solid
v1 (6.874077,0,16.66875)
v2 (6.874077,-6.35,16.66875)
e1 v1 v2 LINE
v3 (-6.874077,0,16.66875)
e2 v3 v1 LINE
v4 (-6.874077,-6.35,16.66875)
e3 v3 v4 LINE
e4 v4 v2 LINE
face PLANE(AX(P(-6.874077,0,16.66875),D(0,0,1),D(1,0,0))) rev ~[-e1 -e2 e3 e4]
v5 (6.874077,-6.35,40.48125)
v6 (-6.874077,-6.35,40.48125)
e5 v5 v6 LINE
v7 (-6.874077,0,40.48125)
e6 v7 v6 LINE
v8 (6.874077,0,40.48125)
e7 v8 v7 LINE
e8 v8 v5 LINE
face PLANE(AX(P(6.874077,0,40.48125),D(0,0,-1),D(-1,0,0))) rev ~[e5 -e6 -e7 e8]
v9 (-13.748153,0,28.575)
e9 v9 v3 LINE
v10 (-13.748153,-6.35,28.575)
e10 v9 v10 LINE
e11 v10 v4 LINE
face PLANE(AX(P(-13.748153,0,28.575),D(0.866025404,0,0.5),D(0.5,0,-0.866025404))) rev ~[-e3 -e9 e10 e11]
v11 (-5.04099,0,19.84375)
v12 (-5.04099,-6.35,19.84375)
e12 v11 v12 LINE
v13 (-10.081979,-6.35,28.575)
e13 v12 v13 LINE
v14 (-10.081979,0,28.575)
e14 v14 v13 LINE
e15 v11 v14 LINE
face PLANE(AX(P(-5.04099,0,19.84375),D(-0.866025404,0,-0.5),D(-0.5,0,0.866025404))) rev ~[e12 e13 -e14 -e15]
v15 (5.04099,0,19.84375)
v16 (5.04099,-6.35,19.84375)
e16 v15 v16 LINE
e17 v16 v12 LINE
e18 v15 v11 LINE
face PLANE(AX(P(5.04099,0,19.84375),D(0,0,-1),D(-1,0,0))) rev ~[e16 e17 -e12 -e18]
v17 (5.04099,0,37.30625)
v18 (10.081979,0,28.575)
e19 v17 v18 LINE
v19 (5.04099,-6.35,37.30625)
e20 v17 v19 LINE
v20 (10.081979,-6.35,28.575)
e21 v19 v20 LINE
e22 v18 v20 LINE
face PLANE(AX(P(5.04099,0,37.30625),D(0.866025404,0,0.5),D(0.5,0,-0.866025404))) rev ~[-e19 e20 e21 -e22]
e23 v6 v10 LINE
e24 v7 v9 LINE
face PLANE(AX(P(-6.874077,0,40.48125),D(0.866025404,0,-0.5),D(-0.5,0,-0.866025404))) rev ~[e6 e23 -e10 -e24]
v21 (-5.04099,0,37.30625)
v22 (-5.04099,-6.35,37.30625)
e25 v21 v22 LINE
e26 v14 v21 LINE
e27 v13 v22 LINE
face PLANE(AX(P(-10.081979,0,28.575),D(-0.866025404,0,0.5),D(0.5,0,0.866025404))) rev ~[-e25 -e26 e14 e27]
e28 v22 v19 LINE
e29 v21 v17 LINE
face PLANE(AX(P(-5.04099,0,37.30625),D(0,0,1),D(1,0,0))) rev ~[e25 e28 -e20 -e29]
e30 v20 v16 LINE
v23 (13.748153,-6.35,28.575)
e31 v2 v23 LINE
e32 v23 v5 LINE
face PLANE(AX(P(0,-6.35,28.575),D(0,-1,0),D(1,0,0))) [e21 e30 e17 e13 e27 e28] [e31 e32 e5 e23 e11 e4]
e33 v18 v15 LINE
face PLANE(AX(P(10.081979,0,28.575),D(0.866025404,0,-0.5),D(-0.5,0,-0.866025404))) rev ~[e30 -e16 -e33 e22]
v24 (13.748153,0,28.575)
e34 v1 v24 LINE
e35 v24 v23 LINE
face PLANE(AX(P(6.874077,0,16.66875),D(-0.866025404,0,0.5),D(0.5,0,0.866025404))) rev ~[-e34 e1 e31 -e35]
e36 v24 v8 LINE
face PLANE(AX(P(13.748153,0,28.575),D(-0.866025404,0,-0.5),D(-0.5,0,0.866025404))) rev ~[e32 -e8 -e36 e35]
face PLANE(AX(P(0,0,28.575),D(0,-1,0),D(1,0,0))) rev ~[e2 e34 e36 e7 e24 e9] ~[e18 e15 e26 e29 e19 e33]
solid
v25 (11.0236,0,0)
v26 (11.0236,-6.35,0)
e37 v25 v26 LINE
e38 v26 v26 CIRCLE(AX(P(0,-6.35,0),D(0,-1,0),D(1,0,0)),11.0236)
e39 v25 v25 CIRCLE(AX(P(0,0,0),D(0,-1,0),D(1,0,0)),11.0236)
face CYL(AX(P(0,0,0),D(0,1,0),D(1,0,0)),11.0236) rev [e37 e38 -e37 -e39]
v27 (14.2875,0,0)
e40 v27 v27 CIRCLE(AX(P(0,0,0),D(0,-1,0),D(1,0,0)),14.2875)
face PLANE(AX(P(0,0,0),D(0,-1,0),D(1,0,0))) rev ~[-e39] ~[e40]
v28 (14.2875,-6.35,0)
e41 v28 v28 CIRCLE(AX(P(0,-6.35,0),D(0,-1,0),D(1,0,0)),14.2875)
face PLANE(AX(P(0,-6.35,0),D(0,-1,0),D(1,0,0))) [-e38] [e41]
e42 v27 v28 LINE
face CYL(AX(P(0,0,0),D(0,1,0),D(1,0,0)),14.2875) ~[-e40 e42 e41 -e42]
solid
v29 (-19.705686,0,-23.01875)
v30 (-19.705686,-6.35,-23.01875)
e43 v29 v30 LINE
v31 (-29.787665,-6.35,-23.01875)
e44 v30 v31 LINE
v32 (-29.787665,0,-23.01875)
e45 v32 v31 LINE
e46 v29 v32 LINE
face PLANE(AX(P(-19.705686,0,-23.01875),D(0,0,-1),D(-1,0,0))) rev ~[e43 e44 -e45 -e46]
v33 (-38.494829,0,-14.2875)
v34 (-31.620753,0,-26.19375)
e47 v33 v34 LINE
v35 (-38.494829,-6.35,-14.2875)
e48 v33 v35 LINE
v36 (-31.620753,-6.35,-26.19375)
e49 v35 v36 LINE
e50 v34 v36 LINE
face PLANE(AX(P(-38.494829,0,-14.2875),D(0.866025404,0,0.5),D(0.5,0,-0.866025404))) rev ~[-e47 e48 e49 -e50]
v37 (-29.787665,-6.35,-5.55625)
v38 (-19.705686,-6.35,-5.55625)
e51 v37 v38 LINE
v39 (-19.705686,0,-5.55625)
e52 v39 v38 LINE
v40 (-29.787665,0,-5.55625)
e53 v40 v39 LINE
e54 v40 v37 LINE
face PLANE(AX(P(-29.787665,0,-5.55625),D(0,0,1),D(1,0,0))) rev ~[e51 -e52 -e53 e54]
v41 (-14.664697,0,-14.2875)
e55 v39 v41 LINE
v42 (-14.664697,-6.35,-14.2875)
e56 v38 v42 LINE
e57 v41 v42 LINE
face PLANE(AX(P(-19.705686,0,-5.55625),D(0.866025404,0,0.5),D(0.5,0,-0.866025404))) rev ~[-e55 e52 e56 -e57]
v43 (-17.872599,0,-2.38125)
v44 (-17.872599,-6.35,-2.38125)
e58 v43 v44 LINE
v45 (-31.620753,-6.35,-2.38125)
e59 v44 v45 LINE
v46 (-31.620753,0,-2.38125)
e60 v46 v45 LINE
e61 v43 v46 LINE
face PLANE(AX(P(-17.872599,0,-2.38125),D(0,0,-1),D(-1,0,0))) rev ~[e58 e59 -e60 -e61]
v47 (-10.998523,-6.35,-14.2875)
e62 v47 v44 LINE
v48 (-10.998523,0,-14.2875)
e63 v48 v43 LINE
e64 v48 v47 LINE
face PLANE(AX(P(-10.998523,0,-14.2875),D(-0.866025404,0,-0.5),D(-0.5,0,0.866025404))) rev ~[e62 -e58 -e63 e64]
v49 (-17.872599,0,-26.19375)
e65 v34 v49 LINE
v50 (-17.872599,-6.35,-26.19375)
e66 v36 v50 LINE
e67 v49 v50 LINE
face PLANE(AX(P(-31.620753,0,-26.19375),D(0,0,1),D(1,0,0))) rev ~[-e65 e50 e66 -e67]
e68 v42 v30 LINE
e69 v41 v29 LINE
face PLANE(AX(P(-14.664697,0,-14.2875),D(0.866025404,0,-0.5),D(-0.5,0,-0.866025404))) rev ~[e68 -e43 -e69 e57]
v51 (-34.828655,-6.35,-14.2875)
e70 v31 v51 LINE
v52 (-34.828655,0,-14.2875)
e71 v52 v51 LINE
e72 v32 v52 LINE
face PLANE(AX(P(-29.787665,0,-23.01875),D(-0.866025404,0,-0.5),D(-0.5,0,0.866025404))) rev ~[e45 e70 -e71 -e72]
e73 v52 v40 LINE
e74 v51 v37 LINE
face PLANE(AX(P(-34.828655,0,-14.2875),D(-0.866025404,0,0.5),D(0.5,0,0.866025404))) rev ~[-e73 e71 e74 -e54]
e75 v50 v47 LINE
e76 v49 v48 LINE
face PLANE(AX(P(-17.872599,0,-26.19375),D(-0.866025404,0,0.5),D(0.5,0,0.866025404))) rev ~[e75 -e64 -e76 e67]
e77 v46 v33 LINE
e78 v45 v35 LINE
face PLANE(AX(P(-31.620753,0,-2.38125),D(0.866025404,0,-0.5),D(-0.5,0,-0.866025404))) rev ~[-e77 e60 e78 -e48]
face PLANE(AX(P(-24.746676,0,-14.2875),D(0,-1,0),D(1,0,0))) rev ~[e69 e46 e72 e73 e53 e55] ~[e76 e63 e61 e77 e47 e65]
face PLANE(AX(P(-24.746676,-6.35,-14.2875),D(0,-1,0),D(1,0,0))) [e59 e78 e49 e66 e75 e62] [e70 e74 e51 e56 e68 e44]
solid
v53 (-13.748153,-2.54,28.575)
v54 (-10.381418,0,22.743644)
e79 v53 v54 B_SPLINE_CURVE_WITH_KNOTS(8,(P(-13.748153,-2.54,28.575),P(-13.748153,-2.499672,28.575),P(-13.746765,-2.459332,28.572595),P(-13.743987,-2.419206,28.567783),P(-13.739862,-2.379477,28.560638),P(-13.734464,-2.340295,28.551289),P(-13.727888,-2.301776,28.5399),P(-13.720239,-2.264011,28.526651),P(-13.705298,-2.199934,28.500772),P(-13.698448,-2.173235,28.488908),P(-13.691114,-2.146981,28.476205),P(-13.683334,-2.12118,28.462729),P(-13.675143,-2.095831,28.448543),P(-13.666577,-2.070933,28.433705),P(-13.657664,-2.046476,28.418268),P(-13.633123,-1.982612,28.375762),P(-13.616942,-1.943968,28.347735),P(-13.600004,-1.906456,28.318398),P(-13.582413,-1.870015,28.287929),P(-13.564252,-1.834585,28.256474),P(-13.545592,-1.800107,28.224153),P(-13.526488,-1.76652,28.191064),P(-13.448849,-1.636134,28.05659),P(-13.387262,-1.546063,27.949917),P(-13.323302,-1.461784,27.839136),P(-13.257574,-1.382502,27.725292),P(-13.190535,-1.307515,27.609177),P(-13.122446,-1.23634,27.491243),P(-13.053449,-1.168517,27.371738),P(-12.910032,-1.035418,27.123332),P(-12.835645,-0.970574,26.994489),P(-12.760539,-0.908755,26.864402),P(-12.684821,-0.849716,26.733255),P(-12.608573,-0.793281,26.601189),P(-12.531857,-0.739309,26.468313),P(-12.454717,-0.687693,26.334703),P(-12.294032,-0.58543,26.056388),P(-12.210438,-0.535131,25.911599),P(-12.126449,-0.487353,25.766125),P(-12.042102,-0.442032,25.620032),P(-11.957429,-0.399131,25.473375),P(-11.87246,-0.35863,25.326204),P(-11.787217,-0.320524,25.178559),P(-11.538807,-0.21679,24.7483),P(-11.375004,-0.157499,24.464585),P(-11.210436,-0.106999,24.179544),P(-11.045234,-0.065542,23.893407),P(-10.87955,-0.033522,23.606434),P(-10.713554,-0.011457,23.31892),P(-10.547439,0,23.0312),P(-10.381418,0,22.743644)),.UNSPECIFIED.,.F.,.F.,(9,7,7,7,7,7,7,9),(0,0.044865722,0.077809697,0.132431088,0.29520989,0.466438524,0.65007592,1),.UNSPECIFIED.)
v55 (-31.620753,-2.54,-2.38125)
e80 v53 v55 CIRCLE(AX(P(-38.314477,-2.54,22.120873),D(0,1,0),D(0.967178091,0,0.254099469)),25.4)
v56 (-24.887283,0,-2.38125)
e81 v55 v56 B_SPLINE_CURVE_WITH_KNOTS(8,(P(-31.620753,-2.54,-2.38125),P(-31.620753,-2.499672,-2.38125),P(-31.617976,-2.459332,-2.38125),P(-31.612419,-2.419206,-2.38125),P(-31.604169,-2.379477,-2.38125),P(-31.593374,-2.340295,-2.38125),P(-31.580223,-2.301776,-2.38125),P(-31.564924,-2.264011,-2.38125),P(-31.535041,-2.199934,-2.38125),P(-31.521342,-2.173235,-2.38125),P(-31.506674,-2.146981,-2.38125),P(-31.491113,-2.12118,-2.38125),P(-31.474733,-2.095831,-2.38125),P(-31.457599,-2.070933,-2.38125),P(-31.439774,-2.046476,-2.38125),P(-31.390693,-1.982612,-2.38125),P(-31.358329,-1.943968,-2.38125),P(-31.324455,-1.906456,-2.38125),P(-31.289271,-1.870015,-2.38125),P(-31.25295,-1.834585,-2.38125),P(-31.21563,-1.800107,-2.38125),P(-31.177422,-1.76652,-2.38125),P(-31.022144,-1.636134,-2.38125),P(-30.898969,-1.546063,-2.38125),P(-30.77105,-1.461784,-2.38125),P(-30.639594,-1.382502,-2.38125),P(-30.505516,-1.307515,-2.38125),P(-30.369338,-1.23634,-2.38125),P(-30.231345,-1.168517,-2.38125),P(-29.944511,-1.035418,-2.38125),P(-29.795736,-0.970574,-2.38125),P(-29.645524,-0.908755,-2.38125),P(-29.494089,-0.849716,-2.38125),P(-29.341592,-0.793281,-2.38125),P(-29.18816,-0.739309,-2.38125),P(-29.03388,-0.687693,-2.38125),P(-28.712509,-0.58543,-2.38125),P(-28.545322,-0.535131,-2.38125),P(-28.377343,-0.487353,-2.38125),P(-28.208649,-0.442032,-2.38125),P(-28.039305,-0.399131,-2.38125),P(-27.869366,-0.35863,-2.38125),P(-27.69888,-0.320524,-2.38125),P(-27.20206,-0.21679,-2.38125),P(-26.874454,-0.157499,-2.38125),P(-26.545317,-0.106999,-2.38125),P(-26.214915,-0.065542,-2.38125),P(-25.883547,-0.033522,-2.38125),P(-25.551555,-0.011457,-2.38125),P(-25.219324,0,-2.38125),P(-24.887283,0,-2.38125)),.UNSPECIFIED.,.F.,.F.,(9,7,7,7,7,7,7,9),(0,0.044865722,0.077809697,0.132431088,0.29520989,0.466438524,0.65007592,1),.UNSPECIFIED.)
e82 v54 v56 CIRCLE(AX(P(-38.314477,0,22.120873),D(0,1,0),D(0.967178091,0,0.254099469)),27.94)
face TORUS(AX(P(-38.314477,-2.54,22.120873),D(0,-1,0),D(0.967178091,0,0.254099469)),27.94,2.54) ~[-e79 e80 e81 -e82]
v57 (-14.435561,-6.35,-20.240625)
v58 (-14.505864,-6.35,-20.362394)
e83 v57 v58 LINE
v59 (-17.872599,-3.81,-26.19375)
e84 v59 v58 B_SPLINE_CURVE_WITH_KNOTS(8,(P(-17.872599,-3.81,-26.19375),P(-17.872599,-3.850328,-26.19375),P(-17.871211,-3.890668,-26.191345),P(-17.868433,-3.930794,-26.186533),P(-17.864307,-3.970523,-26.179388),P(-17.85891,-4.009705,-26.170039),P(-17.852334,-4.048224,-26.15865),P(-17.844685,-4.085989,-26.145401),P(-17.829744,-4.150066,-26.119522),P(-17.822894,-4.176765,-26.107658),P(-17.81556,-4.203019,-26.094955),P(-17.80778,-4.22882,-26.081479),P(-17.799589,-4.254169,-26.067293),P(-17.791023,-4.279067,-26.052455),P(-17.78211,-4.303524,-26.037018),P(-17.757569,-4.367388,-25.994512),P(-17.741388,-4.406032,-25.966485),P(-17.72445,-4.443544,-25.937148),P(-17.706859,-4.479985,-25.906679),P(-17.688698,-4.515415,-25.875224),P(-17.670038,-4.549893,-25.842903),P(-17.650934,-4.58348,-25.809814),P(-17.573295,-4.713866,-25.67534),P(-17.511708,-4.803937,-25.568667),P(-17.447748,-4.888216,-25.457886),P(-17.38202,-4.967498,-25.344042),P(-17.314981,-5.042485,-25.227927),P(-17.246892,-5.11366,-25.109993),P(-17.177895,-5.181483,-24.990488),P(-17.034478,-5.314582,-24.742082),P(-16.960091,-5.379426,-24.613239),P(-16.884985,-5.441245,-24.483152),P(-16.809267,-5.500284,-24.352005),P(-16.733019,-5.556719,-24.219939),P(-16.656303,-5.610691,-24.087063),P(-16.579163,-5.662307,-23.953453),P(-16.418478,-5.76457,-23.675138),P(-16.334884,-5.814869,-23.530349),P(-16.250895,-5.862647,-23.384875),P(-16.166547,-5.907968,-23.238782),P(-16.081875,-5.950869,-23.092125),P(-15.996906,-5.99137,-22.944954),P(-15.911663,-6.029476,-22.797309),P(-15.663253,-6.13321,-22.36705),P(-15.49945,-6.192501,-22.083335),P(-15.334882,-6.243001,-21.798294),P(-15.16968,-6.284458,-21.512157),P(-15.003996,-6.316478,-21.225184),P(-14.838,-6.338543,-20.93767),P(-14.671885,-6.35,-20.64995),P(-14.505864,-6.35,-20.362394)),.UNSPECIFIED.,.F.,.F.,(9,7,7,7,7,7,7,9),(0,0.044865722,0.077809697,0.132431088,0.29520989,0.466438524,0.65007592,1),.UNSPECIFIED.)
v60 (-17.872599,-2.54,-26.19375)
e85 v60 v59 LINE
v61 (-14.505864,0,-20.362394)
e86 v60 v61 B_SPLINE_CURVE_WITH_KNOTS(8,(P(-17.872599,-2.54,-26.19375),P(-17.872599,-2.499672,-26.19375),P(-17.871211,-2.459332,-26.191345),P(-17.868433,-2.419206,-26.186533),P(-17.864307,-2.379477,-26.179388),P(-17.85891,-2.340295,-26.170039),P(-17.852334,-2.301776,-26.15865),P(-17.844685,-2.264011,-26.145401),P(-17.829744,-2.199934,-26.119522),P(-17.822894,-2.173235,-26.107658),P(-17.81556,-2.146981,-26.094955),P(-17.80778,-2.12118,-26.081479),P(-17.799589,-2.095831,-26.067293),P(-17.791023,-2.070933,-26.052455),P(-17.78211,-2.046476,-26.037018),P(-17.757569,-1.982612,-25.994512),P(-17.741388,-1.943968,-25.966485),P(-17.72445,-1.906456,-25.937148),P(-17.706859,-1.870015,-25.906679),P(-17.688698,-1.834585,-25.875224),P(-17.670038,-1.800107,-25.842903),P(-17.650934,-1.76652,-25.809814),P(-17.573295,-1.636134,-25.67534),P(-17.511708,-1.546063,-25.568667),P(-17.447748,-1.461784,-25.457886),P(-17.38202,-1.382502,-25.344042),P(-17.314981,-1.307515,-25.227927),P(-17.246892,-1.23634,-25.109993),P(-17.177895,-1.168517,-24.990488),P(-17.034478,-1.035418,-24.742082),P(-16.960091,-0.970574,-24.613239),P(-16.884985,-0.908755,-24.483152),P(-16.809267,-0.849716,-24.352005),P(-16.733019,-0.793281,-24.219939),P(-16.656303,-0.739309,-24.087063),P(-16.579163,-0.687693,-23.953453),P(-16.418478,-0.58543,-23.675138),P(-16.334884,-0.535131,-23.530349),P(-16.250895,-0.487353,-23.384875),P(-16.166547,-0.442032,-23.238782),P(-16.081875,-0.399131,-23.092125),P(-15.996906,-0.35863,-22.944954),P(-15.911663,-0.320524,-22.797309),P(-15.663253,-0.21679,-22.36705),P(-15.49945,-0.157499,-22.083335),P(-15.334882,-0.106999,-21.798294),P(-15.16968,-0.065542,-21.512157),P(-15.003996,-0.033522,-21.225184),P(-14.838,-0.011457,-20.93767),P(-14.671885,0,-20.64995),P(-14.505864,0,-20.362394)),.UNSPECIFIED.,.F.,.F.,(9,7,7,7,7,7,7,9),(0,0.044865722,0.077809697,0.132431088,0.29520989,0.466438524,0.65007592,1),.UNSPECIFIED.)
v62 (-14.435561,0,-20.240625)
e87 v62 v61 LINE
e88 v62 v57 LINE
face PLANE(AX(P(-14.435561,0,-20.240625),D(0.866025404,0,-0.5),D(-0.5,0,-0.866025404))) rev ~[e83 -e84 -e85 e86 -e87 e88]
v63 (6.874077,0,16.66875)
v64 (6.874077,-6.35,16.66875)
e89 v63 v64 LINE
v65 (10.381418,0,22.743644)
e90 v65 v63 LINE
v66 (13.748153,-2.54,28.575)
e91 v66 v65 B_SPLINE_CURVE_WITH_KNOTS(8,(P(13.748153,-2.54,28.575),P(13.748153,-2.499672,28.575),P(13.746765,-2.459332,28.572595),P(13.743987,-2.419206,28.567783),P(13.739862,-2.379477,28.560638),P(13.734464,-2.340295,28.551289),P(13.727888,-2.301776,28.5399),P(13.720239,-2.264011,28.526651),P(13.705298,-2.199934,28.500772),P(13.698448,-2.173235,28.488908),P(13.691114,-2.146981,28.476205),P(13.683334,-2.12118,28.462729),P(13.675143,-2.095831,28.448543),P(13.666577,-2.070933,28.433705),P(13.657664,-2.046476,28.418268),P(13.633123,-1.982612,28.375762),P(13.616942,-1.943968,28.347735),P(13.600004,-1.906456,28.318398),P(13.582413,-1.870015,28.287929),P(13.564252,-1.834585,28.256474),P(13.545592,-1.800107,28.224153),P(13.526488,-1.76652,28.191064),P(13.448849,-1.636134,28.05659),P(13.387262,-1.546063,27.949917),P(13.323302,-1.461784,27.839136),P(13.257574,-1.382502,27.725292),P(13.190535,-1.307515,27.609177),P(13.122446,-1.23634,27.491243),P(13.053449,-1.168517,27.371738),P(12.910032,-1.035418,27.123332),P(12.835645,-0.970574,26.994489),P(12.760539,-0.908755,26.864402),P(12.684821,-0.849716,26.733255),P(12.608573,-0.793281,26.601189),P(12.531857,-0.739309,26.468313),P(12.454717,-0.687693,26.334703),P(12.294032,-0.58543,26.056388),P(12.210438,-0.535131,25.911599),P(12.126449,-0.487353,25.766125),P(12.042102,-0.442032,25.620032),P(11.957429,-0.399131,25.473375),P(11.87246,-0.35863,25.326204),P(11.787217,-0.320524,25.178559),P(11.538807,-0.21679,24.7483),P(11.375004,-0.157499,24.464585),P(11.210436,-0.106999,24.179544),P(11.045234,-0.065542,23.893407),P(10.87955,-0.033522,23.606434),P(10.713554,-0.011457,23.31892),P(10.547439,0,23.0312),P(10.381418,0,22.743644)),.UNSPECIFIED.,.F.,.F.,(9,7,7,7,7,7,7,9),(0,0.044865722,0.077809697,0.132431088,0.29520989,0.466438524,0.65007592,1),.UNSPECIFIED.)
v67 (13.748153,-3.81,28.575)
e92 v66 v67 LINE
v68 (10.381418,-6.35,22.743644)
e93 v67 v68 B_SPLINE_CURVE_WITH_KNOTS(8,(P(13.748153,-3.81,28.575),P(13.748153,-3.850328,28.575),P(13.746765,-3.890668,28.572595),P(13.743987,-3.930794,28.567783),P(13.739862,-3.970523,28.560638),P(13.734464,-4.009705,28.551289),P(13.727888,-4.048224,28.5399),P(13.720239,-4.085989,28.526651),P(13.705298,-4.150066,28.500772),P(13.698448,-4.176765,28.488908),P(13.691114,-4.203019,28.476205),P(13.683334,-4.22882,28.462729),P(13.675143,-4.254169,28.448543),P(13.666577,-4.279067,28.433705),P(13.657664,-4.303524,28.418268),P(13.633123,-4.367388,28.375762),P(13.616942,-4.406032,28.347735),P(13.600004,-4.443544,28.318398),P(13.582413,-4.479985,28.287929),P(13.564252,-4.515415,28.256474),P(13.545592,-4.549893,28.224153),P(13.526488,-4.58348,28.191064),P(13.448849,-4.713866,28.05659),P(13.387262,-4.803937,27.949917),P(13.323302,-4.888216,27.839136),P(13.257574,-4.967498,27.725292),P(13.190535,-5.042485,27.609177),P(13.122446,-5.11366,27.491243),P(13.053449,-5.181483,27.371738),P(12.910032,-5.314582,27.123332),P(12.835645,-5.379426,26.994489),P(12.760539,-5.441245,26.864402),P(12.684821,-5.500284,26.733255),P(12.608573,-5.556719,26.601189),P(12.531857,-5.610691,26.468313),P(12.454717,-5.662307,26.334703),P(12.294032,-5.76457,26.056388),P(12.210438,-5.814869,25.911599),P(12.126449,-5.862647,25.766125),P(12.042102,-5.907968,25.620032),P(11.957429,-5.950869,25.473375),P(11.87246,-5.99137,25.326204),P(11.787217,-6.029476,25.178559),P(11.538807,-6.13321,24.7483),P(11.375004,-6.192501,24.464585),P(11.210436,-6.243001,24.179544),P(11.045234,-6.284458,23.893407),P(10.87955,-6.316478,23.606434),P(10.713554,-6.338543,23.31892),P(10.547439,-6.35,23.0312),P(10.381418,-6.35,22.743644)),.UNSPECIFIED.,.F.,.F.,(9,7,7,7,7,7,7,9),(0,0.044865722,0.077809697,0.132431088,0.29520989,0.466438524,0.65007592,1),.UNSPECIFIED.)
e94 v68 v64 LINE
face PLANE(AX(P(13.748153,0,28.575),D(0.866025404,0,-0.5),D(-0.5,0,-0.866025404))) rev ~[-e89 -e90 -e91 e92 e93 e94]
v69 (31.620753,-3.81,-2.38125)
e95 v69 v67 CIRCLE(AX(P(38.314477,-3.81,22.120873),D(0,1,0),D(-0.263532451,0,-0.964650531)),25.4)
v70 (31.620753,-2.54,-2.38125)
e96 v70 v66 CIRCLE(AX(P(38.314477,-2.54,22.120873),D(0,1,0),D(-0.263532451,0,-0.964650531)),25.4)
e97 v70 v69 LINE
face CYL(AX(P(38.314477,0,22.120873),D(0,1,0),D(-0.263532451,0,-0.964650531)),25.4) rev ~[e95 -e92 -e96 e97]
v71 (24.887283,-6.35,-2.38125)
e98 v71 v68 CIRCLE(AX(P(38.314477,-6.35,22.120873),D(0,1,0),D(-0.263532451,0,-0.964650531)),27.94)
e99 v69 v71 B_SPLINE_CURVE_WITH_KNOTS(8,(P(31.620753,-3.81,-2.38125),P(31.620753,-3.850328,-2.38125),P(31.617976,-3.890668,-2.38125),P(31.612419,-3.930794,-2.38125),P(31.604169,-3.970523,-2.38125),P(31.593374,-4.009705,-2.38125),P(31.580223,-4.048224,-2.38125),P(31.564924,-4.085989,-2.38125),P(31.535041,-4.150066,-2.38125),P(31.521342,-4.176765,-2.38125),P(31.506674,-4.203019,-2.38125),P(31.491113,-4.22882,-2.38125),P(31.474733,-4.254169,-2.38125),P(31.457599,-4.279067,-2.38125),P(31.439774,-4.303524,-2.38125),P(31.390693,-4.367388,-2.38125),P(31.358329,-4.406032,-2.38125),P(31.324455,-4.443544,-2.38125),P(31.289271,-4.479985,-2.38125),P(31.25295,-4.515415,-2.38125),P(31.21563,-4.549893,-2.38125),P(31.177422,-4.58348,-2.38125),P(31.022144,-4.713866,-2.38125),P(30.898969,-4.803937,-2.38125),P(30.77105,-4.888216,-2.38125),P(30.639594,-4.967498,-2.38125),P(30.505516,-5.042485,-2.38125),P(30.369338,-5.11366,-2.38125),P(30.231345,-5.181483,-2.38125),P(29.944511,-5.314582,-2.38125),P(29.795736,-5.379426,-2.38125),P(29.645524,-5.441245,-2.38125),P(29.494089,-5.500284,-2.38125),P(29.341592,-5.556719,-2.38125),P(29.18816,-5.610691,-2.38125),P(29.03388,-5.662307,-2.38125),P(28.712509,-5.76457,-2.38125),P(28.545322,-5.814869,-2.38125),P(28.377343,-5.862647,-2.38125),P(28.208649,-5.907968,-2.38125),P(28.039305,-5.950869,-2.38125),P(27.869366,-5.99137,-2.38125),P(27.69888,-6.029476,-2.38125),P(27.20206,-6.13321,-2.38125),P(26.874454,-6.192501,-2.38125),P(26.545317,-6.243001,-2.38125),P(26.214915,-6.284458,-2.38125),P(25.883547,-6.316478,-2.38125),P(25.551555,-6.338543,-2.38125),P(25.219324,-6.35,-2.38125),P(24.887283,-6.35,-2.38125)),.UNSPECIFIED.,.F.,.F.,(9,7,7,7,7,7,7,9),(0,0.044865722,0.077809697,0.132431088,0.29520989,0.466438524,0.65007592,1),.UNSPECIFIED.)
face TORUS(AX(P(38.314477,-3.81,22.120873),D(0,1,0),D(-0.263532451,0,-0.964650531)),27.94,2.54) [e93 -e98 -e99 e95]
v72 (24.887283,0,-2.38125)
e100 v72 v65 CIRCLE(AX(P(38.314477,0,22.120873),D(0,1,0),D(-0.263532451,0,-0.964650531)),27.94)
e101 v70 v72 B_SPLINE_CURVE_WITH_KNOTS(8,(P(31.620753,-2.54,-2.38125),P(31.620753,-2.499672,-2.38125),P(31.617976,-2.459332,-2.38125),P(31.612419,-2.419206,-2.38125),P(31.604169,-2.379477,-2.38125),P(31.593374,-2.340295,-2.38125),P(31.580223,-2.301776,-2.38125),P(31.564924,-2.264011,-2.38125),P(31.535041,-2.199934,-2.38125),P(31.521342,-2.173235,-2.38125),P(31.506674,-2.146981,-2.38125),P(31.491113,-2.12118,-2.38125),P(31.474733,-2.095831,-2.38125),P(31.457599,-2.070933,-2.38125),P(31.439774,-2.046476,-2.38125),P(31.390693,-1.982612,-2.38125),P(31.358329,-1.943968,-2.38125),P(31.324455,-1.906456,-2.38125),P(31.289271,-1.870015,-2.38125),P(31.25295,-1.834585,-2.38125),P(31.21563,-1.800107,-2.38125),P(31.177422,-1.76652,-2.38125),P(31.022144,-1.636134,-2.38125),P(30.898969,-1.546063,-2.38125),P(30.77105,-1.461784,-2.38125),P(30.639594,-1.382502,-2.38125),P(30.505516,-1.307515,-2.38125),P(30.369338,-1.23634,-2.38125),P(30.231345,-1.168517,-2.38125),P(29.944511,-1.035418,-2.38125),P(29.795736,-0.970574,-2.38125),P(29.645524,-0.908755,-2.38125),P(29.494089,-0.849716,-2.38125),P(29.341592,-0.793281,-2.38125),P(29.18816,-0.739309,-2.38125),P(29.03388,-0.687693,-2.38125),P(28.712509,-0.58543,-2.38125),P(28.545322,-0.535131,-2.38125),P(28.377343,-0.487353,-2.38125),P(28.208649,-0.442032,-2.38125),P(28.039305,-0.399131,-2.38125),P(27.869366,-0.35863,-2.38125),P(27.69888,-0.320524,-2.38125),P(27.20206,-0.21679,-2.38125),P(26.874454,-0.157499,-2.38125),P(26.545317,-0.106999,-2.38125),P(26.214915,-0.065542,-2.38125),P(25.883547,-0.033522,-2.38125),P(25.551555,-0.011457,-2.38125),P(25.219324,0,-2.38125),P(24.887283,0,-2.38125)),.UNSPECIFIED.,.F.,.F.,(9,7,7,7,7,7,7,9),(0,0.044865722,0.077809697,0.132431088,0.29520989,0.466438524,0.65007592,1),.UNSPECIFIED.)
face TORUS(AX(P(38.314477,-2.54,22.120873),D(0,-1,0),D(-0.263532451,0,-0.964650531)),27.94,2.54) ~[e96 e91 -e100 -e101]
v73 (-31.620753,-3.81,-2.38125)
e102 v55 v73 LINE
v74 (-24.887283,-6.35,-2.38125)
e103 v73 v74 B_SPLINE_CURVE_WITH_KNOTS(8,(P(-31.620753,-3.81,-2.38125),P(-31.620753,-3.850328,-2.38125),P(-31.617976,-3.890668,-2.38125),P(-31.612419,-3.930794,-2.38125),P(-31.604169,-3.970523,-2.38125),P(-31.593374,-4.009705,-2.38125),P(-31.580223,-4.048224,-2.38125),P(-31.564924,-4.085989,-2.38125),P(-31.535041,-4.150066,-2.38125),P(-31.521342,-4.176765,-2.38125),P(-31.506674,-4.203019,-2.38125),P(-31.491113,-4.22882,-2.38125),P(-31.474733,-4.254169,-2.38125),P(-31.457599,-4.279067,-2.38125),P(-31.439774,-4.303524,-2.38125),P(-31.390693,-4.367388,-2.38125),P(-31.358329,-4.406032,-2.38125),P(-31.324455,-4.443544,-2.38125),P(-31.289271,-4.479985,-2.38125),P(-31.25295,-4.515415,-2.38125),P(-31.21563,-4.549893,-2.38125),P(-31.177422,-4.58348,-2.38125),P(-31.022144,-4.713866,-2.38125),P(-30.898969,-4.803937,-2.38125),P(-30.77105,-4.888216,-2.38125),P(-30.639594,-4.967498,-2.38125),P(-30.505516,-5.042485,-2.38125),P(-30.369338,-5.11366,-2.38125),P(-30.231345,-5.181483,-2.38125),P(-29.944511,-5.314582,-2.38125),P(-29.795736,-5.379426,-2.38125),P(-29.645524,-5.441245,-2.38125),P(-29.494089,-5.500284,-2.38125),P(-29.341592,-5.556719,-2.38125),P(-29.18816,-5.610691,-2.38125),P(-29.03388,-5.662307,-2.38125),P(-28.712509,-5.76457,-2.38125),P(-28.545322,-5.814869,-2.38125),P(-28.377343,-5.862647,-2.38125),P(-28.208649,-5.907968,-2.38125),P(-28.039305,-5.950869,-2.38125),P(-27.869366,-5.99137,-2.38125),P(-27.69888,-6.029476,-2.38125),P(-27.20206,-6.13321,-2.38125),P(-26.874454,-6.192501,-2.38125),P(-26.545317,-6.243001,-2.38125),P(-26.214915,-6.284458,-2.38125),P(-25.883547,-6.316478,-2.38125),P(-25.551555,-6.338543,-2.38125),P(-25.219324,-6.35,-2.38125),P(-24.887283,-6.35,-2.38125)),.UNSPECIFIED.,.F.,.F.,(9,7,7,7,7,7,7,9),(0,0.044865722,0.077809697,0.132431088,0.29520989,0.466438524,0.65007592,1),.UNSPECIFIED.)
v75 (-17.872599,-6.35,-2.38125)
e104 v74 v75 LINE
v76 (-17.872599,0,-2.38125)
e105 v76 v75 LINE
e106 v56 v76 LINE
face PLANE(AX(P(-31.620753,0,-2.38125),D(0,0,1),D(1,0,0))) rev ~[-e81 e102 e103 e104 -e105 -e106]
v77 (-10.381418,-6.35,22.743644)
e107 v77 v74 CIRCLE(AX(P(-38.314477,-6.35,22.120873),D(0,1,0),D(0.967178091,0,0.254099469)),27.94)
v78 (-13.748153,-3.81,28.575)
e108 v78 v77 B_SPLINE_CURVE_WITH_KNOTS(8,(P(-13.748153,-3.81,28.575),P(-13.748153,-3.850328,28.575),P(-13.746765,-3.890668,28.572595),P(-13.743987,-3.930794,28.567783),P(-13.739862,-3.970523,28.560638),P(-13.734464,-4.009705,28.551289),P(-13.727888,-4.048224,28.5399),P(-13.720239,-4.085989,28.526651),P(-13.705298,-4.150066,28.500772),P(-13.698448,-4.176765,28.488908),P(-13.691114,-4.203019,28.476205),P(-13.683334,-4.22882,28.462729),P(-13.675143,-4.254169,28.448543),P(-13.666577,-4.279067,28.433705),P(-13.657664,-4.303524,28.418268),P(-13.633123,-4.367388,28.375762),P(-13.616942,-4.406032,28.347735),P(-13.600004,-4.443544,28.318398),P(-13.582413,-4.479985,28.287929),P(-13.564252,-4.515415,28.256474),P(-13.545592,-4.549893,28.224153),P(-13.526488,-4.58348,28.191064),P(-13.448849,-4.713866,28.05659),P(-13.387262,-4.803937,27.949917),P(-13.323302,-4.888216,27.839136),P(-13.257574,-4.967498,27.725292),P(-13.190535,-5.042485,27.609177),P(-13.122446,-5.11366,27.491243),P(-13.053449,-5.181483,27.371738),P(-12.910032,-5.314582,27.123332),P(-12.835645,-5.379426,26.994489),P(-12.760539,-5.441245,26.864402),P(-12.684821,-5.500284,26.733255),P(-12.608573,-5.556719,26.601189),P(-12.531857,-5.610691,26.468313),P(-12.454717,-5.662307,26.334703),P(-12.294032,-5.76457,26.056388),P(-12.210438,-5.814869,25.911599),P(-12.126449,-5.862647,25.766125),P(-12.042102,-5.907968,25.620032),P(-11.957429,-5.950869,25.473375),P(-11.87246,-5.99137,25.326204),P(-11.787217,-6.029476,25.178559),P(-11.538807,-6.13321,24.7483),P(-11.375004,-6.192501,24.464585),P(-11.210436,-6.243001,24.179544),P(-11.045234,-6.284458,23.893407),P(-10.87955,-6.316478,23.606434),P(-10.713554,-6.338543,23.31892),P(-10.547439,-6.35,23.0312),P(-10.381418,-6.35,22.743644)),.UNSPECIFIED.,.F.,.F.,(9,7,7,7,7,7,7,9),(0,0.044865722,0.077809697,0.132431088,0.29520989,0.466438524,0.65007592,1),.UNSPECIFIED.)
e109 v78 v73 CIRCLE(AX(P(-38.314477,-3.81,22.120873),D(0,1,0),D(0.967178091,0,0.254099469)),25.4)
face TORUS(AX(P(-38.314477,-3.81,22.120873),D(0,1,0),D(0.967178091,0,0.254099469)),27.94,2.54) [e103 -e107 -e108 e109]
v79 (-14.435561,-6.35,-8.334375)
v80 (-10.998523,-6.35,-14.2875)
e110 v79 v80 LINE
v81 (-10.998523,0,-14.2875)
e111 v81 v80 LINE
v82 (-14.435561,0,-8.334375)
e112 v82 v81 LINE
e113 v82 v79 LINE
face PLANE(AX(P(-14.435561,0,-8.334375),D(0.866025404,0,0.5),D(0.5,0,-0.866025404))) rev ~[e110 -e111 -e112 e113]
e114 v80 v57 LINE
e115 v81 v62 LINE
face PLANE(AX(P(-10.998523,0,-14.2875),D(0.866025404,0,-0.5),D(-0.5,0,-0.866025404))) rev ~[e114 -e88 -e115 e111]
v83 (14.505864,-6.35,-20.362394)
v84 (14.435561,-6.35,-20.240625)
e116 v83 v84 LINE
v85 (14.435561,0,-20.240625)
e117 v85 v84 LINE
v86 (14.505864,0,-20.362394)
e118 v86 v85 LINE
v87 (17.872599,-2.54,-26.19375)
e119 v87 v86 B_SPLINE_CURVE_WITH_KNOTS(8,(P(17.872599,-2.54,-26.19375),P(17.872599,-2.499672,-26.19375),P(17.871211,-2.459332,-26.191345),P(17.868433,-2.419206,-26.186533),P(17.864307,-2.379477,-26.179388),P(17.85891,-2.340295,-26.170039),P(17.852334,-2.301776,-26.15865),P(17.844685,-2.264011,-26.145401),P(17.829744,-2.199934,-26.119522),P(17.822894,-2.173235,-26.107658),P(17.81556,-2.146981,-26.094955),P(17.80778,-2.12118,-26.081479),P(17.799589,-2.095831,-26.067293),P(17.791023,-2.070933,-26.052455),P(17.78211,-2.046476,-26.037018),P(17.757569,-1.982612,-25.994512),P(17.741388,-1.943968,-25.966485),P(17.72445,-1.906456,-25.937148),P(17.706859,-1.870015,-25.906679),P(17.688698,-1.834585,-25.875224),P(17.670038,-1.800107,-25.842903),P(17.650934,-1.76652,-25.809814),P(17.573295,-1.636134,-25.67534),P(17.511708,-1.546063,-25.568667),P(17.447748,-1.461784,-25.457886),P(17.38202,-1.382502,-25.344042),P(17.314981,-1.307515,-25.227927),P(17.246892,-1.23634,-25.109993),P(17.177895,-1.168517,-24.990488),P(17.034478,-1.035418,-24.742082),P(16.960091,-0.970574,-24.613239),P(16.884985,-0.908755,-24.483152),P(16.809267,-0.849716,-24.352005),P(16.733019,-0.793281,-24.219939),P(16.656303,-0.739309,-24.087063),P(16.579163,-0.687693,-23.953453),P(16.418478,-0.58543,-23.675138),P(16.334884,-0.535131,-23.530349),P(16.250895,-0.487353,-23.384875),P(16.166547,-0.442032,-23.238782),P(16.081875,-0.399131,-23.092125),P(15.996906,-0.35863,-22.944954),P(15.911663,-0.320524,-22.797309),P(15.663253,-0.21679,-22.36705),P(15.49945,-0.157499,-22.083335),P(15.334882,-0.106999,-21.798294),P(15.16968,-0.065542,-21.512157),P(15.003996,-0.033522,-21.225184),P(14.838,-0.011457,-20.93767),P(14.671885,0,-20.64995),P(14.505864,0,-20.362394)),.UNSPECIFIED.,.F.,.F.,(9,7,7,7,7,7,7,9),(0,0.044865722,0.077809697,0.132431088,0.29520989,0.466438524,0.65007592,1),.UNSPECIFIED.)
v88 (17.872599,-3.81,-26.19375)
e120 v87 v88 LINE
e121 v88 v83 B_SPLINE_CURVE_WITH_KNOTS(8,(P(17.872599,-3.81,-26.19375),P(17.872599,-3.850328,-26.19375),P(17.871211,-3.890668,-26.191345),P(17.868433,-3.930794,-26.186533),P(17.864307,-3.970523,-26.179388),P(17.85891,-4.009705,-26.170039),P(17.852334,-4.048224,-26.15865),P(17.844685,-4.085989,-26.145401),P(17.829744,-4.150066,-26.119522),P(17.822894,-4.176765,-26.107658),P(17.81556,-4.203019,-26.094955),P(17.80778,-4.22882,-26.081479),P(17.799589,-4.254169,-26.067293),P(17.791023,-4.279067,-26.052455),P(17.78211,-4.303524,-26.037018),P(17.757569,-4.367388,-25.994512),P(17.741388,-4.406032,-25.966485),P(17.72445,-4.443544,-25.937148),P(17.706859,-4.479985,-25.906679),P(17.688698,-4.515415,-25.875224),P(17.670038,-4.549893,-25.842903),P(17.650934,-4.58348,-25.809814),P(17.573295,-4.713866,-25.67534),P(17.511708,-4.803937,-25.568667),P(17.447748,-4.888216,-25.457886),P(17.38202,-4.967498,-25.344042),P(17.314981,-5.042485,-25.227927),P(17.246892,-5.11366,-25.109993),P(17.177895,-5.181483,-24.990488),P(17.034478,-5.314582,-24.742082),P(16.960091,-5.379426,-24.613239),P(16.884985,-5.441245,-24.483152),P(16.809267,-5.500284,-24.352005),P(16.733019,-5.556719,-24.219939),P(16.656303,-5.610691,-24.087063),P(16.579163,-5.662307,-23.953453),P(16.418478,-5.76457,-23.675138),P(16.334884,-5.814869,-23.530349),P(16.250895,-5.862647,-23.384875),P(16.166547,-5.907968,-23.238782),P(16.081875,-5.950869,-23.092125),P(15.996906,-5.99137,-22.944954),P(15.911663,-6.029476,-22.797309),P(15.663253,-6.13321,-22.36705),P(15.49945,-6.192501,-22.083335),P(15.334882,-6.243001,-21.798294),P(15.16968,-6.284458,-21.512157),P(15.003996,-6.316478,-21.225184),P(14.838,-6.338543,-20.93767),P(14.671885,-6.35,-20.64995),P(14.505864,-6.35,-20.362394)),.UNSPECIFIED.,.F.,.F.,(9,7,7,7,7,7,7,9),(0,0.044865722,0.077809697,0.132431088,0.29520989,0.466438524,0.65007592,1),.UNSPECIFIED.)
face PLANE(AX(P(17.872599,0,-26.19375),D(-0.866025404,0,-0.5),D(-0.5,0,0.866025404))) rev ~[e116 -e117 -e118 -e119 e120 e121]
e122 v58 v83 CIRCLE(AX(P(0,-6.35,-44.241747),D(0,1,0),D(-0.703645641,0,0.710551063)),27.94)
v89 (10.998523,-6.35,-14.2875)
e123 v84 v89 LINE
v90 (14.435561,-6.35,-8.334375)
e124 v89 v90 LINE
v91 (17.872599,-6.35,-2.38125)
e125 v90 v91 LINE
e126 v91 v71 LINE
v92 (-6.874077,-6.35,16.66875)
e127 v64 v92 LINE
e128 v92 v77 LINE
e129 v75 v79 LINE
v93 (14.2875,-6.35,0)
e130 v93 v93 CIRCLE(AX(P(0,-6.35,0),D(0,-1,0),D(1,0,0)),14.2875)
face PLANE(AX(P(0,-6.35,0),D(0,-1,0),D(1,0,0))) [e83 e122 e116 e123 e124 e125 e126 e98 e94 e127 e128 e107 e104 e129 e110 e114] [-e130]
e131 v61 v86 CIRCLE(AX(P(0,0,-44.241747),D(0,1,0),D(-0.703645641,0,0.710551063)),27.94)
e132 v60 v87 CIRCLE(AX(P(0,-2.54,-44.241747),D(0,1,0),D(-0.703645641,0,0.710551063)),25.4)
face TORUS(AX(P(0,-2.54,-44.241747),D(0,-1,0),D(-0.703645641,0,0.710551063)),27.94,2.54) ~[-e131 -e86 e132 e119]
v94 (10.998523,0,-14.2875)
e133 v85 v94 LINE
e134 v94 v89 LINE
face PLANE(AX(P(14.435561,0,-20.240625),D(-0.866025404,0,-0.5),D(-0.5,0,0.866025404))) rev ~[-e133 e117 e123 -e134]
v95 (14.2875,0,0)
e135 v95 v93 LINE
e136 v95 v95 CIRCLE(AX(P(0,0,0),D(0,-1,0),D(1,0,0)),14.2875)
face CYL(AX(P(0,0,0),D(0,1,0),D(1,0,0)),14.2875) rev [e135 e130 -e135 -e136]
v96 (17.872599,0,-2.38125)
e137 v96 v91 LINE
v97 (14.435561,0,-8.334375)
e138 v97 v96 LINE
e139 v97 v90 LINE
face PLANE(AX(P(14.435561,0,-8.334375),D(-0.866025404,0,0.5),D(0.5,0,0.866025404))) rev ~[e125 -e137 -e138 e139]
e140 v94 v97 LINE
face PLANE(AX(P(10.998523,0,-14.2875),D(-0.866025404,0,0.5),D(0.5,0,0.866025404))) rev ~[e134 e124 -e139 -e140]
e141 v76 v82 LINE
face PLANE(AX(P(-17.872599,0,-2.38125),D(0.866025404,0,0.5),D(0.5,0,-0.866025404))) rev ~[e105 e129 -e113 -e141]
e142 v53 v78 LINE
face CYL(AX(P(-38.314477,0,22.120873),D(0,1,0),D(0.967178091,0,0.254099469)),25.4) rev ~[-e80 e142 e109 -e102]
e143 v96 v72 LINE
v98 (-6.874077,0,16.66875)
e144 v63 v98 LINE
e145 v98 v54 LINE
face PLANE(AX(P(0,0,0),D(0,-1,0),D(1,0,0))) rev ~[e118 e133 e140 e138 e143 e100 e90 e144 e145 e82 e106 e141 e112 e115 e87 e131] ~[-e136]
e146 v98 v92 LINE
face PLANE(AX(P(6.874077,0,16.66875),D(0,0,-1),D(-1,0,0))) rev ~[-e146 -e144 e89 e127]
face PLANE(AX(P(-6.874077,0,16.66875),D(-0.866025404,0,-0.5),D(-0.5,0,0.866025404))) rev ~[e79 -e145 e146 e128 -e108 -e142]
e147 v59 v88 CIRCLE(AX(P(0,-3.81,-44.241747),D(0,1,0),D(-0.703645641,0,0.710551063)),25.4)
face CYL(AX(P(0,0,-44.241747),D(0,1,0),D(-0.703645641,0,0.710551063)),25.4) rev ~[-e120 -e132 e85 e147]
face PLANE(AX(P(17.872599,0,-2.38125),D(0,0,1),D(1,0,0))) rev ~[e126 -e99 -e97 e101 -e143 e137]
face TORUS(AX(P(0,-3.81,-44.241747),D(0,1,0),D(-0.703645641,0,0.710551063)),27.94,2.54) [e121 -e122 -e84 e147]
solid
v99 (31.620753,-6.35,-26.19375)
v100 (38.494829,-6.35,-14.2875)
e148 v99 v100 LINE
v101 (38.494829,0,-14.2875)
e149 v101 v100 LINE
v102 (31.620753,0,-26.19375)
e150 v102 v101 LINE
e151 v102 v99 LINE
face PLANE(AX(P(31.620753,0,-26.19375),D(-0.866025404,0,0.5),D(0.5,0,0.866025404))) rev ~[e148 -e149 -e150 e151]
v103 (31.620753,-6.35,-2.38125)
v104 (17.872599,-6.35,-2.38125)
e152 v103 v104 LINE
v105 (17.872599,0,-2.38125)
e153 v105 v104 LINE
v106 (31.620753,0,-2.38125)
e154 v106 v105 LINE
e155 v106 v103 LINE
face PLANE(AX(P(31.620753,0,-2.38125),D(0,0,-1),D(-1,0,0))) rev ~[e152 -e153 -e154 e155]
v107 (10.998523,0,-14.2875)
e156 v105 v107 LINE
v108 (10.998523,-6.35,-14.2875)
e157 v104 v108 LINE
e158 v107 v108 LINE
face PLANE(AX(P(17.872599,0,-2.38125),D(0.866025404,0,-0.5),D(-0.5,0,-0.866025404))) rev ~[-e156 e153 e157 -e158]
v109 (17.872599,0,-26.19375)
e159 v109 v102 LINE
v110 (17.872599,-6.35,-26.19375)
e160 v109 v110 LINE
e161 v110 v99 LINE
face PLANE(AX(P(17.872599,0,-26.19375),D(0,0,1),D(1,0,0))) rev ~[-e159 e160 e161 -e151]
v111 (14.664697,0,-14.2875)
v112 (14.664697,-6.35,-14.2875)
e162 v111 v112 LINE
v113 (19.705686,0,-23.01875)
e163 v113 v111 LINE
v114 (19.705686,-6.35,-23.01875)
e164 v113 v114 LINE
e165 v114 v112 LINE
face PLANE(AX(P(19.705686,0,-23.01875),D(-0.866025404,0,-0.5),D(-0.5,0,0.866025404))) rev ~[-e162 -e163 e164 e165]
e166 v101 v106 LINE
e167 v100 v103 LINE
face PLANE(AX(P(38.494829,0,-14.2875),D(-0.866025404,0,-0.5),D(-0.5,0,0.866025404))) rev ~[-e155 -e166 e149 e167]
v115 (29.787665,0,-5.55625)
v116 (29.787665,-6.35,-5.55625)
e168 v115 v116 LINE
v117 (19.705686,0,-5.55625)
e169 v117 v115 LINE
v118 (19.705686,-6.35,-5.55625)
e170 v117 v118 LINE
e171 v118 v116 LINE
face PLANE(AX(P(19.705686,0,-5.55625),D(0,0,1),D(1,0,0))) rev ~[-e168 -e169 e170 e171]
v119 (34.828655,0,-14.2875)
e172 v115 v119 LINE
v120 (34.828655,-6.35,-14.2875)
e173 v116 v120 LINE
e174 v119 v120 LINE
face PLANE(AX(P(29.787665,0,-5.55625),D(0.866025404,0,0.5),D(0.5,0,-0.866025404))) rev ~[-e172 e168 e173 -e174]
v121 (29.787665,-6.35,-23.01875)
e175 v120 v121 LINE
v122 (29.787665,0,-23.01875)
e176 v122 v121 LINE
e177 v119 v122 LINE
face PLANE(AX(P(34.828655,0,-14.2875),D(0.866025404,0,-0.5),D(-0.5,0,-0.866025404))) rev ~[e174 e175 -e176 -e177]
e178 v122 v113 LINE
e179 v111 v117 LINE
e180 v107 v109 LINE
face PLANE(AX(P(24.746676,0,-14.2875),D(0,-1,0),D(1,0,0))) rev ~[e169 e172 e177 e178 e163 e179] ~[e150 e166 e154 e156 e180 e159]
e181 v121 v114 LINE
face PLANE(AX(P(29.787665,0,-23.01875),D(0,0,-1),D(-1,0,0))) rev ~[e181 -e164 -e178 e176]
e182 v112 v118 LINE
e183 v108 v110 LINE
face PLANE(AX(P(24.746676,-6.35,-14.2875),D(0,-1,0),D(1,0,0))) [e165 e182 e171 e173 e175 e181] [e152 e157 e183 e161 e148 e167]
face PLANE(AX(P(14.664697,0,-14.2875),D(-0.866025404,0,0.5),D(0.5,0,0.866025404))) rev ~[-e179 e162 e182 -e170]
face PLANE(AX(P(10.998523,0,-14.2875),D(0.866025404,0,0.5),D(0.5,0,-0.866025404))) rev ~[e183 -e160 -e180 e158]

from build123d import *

# Parameters (mm, degrees)
F1_R     = 14.2875
F2_DEPTH = 6.35
F0_R     = 14.2875
F0_R_2   = 11.0236
F3_R     = 2.54


with BuildPart() as f2:
    # F1 (on Front) → F2 (new body)
    with BuildSketch(Plane.XZ):
        with BuildLine():
            Line((17.8725992706, -2.38125), (24.7466759131, -2.38125))
            Line((24.7466759131, -2.38125), (31.6207525557, -2.38125))
            ThreePointArc((31.6207525557, -2.38125), (16.3174315441, 9.4208734945), (13.7481532851, 28.575))
            Line((13.7481532851, 28.575), (10.3111149612, 22.6218749955))
            Line((10.3111149612, 22.6218749955), (6.8740766425, 16.66875))
            Line((6.8740766425, 16.66875), (0, 16.66875))
            Line((0, 16.66875), (-6.8740766425, 16.66875))
            Line((-6.8740766425, 16.66875), (-10.3111149612, 22.6218749955))
            Line((-10.3111149612, 22.6218749955), (-13.7481532851, 28.575))
            ThreePointArc((-13.7481532851, 28.575), (-16.3174315441, 9.4208734945), (-31.6207525557, -2.38125))
            Line((-31.6207525557, -2.38125), (-24.7466759131, -2.38125))
            Line((-24.7466759131, -2.38125), (-17.8725992706, -2.38125))
            Line((-17.8725992706, -2.38125), (-14.4355609503, -8.3343749983))
            Line((-14.4355609503, -8.3343749983), (-10.9985226281, -14.2875))
            Line((-10.9985226281, -14.2875), (-14.4355610462, -20.2406251678))
            Line((-14.4355610462, -20.2406251678), (-17.8725992706, -26.19375))
            ThreePointArc((-17.8725992706, -26.19375), (0, -18.8417469889), (17.8725992706, -26.19375))
            Line((17.8725992706, -26.19375), (14.4355609031, -20.2406249198))
            Line((14.4355609031, -20.2406249198), (10.9985226281, -14.2875))
            Line((10.9985226281, -14.2875), (14.4355609519, -8.3343749955))
            Line((14.4355609519, -8.3343749955), (17.8725992706, -2.38125))
        make_face()
        Circle(F1_R, mode=Mode.SUBTRACT)
    extrude(amount=F2_DEPTH)

    # F3
    f3_edges = [f2.edges().sort_by_distance(p)[0] for p in [
        (16.317432, -6.35, 9.420873),
        (0, -6.35, -18.841747),
        (0, 0, -18.841747),
        (-16.317432, 0, 9.420873),
        (-16.317432, -6.35, 9.420873),
        (16.317432, 0, 9.420873),
    ]]
    fillet(f3_edges, radius=F3_R)


with BuildPart() as f2b:
    # F0 (on Front) → F2, piece 2 (new body)
    with BuildSketch(Plane.XZ):
        Circle(F0_R)
        Circle(F0_R_2, mode=Mode.SUBTRACT)
    extrude(amount=F2_DEPTH)


with BuildPart() as f2c:
    # F0 (on Front) → F2, piece 3 (new body)
    with BuildSketch(Plane.XZ):
        Polygon((-10.9985226281, -14.2875), (-17.8725992706, -2.38125), (-31.6207525557, -2.38125), (-38.4948291982, -14.2875), (-31.6207525557, -26.19375), (-17.8725992706, -26.19375), align=None)
        Polygon((-14.6646968374, -14.2875), (-19.7056863753, -23.01875), (-29.787665451, -23.01875), (-34.8286549889, -14.2875), (-29.787665451, -5.55625), (-19.7056863753, -5.55625), align=None, mode=Mode.SUBTRACT)
    extrude(amount=F2_DEPTH)


with BuildPart() as f2d:
    # F0 (on Front) → F2, piece 4 (new body)
    with BuildSketch(Plane.XZ):
        Polygon((6.8740766425, 40.48125), (-6.8740766425, 40.48125), (-13.7481532851, 28.575), (-6.8740766425, 16.66875), (6.8740766425, 16.66875), (13.7481532851, 28.575), align=None)
        Polygon((10.0819790757, 28.575), (5.0409895379, 19.84375), (-5.0409895379, 19.84375), (-10.0819790757, 28.575), (-5.0409895379, 37.30625), (5.0409895379, 37.30625), align=None, mode=Mode.SUBTRACT)
    extrude(amount=F2_DEPTH)


with BuildPart() as f2e:
    # F0 (on Front) → F2, piece 5 (new body)
    with BuildSketch(Plane.XZ):
        Polygon((17.8725992706, -2.38125), (10.9985226281, -14.2875), (17.8725992706, -26.19375), (31.6207525557, -26.19375), (38.4948291982, -14.2875), (31.6207525557, -2.38125), align=None)
        Polygon((19.7056863753, -5.55625), (29.787665451, -5.55625), (34.8286549889, -14.2875), (29.787665451, -23.01875), (19.7056863753, -23.01875), (14.6646968374, -14.2875), align=None, mode=Mode.SUBTRACT)
    extrude(amount=F2_DEPTH)


solid = Compound([f2.part, f2b.part, f2c.part, f2d.part, f2e.part])
